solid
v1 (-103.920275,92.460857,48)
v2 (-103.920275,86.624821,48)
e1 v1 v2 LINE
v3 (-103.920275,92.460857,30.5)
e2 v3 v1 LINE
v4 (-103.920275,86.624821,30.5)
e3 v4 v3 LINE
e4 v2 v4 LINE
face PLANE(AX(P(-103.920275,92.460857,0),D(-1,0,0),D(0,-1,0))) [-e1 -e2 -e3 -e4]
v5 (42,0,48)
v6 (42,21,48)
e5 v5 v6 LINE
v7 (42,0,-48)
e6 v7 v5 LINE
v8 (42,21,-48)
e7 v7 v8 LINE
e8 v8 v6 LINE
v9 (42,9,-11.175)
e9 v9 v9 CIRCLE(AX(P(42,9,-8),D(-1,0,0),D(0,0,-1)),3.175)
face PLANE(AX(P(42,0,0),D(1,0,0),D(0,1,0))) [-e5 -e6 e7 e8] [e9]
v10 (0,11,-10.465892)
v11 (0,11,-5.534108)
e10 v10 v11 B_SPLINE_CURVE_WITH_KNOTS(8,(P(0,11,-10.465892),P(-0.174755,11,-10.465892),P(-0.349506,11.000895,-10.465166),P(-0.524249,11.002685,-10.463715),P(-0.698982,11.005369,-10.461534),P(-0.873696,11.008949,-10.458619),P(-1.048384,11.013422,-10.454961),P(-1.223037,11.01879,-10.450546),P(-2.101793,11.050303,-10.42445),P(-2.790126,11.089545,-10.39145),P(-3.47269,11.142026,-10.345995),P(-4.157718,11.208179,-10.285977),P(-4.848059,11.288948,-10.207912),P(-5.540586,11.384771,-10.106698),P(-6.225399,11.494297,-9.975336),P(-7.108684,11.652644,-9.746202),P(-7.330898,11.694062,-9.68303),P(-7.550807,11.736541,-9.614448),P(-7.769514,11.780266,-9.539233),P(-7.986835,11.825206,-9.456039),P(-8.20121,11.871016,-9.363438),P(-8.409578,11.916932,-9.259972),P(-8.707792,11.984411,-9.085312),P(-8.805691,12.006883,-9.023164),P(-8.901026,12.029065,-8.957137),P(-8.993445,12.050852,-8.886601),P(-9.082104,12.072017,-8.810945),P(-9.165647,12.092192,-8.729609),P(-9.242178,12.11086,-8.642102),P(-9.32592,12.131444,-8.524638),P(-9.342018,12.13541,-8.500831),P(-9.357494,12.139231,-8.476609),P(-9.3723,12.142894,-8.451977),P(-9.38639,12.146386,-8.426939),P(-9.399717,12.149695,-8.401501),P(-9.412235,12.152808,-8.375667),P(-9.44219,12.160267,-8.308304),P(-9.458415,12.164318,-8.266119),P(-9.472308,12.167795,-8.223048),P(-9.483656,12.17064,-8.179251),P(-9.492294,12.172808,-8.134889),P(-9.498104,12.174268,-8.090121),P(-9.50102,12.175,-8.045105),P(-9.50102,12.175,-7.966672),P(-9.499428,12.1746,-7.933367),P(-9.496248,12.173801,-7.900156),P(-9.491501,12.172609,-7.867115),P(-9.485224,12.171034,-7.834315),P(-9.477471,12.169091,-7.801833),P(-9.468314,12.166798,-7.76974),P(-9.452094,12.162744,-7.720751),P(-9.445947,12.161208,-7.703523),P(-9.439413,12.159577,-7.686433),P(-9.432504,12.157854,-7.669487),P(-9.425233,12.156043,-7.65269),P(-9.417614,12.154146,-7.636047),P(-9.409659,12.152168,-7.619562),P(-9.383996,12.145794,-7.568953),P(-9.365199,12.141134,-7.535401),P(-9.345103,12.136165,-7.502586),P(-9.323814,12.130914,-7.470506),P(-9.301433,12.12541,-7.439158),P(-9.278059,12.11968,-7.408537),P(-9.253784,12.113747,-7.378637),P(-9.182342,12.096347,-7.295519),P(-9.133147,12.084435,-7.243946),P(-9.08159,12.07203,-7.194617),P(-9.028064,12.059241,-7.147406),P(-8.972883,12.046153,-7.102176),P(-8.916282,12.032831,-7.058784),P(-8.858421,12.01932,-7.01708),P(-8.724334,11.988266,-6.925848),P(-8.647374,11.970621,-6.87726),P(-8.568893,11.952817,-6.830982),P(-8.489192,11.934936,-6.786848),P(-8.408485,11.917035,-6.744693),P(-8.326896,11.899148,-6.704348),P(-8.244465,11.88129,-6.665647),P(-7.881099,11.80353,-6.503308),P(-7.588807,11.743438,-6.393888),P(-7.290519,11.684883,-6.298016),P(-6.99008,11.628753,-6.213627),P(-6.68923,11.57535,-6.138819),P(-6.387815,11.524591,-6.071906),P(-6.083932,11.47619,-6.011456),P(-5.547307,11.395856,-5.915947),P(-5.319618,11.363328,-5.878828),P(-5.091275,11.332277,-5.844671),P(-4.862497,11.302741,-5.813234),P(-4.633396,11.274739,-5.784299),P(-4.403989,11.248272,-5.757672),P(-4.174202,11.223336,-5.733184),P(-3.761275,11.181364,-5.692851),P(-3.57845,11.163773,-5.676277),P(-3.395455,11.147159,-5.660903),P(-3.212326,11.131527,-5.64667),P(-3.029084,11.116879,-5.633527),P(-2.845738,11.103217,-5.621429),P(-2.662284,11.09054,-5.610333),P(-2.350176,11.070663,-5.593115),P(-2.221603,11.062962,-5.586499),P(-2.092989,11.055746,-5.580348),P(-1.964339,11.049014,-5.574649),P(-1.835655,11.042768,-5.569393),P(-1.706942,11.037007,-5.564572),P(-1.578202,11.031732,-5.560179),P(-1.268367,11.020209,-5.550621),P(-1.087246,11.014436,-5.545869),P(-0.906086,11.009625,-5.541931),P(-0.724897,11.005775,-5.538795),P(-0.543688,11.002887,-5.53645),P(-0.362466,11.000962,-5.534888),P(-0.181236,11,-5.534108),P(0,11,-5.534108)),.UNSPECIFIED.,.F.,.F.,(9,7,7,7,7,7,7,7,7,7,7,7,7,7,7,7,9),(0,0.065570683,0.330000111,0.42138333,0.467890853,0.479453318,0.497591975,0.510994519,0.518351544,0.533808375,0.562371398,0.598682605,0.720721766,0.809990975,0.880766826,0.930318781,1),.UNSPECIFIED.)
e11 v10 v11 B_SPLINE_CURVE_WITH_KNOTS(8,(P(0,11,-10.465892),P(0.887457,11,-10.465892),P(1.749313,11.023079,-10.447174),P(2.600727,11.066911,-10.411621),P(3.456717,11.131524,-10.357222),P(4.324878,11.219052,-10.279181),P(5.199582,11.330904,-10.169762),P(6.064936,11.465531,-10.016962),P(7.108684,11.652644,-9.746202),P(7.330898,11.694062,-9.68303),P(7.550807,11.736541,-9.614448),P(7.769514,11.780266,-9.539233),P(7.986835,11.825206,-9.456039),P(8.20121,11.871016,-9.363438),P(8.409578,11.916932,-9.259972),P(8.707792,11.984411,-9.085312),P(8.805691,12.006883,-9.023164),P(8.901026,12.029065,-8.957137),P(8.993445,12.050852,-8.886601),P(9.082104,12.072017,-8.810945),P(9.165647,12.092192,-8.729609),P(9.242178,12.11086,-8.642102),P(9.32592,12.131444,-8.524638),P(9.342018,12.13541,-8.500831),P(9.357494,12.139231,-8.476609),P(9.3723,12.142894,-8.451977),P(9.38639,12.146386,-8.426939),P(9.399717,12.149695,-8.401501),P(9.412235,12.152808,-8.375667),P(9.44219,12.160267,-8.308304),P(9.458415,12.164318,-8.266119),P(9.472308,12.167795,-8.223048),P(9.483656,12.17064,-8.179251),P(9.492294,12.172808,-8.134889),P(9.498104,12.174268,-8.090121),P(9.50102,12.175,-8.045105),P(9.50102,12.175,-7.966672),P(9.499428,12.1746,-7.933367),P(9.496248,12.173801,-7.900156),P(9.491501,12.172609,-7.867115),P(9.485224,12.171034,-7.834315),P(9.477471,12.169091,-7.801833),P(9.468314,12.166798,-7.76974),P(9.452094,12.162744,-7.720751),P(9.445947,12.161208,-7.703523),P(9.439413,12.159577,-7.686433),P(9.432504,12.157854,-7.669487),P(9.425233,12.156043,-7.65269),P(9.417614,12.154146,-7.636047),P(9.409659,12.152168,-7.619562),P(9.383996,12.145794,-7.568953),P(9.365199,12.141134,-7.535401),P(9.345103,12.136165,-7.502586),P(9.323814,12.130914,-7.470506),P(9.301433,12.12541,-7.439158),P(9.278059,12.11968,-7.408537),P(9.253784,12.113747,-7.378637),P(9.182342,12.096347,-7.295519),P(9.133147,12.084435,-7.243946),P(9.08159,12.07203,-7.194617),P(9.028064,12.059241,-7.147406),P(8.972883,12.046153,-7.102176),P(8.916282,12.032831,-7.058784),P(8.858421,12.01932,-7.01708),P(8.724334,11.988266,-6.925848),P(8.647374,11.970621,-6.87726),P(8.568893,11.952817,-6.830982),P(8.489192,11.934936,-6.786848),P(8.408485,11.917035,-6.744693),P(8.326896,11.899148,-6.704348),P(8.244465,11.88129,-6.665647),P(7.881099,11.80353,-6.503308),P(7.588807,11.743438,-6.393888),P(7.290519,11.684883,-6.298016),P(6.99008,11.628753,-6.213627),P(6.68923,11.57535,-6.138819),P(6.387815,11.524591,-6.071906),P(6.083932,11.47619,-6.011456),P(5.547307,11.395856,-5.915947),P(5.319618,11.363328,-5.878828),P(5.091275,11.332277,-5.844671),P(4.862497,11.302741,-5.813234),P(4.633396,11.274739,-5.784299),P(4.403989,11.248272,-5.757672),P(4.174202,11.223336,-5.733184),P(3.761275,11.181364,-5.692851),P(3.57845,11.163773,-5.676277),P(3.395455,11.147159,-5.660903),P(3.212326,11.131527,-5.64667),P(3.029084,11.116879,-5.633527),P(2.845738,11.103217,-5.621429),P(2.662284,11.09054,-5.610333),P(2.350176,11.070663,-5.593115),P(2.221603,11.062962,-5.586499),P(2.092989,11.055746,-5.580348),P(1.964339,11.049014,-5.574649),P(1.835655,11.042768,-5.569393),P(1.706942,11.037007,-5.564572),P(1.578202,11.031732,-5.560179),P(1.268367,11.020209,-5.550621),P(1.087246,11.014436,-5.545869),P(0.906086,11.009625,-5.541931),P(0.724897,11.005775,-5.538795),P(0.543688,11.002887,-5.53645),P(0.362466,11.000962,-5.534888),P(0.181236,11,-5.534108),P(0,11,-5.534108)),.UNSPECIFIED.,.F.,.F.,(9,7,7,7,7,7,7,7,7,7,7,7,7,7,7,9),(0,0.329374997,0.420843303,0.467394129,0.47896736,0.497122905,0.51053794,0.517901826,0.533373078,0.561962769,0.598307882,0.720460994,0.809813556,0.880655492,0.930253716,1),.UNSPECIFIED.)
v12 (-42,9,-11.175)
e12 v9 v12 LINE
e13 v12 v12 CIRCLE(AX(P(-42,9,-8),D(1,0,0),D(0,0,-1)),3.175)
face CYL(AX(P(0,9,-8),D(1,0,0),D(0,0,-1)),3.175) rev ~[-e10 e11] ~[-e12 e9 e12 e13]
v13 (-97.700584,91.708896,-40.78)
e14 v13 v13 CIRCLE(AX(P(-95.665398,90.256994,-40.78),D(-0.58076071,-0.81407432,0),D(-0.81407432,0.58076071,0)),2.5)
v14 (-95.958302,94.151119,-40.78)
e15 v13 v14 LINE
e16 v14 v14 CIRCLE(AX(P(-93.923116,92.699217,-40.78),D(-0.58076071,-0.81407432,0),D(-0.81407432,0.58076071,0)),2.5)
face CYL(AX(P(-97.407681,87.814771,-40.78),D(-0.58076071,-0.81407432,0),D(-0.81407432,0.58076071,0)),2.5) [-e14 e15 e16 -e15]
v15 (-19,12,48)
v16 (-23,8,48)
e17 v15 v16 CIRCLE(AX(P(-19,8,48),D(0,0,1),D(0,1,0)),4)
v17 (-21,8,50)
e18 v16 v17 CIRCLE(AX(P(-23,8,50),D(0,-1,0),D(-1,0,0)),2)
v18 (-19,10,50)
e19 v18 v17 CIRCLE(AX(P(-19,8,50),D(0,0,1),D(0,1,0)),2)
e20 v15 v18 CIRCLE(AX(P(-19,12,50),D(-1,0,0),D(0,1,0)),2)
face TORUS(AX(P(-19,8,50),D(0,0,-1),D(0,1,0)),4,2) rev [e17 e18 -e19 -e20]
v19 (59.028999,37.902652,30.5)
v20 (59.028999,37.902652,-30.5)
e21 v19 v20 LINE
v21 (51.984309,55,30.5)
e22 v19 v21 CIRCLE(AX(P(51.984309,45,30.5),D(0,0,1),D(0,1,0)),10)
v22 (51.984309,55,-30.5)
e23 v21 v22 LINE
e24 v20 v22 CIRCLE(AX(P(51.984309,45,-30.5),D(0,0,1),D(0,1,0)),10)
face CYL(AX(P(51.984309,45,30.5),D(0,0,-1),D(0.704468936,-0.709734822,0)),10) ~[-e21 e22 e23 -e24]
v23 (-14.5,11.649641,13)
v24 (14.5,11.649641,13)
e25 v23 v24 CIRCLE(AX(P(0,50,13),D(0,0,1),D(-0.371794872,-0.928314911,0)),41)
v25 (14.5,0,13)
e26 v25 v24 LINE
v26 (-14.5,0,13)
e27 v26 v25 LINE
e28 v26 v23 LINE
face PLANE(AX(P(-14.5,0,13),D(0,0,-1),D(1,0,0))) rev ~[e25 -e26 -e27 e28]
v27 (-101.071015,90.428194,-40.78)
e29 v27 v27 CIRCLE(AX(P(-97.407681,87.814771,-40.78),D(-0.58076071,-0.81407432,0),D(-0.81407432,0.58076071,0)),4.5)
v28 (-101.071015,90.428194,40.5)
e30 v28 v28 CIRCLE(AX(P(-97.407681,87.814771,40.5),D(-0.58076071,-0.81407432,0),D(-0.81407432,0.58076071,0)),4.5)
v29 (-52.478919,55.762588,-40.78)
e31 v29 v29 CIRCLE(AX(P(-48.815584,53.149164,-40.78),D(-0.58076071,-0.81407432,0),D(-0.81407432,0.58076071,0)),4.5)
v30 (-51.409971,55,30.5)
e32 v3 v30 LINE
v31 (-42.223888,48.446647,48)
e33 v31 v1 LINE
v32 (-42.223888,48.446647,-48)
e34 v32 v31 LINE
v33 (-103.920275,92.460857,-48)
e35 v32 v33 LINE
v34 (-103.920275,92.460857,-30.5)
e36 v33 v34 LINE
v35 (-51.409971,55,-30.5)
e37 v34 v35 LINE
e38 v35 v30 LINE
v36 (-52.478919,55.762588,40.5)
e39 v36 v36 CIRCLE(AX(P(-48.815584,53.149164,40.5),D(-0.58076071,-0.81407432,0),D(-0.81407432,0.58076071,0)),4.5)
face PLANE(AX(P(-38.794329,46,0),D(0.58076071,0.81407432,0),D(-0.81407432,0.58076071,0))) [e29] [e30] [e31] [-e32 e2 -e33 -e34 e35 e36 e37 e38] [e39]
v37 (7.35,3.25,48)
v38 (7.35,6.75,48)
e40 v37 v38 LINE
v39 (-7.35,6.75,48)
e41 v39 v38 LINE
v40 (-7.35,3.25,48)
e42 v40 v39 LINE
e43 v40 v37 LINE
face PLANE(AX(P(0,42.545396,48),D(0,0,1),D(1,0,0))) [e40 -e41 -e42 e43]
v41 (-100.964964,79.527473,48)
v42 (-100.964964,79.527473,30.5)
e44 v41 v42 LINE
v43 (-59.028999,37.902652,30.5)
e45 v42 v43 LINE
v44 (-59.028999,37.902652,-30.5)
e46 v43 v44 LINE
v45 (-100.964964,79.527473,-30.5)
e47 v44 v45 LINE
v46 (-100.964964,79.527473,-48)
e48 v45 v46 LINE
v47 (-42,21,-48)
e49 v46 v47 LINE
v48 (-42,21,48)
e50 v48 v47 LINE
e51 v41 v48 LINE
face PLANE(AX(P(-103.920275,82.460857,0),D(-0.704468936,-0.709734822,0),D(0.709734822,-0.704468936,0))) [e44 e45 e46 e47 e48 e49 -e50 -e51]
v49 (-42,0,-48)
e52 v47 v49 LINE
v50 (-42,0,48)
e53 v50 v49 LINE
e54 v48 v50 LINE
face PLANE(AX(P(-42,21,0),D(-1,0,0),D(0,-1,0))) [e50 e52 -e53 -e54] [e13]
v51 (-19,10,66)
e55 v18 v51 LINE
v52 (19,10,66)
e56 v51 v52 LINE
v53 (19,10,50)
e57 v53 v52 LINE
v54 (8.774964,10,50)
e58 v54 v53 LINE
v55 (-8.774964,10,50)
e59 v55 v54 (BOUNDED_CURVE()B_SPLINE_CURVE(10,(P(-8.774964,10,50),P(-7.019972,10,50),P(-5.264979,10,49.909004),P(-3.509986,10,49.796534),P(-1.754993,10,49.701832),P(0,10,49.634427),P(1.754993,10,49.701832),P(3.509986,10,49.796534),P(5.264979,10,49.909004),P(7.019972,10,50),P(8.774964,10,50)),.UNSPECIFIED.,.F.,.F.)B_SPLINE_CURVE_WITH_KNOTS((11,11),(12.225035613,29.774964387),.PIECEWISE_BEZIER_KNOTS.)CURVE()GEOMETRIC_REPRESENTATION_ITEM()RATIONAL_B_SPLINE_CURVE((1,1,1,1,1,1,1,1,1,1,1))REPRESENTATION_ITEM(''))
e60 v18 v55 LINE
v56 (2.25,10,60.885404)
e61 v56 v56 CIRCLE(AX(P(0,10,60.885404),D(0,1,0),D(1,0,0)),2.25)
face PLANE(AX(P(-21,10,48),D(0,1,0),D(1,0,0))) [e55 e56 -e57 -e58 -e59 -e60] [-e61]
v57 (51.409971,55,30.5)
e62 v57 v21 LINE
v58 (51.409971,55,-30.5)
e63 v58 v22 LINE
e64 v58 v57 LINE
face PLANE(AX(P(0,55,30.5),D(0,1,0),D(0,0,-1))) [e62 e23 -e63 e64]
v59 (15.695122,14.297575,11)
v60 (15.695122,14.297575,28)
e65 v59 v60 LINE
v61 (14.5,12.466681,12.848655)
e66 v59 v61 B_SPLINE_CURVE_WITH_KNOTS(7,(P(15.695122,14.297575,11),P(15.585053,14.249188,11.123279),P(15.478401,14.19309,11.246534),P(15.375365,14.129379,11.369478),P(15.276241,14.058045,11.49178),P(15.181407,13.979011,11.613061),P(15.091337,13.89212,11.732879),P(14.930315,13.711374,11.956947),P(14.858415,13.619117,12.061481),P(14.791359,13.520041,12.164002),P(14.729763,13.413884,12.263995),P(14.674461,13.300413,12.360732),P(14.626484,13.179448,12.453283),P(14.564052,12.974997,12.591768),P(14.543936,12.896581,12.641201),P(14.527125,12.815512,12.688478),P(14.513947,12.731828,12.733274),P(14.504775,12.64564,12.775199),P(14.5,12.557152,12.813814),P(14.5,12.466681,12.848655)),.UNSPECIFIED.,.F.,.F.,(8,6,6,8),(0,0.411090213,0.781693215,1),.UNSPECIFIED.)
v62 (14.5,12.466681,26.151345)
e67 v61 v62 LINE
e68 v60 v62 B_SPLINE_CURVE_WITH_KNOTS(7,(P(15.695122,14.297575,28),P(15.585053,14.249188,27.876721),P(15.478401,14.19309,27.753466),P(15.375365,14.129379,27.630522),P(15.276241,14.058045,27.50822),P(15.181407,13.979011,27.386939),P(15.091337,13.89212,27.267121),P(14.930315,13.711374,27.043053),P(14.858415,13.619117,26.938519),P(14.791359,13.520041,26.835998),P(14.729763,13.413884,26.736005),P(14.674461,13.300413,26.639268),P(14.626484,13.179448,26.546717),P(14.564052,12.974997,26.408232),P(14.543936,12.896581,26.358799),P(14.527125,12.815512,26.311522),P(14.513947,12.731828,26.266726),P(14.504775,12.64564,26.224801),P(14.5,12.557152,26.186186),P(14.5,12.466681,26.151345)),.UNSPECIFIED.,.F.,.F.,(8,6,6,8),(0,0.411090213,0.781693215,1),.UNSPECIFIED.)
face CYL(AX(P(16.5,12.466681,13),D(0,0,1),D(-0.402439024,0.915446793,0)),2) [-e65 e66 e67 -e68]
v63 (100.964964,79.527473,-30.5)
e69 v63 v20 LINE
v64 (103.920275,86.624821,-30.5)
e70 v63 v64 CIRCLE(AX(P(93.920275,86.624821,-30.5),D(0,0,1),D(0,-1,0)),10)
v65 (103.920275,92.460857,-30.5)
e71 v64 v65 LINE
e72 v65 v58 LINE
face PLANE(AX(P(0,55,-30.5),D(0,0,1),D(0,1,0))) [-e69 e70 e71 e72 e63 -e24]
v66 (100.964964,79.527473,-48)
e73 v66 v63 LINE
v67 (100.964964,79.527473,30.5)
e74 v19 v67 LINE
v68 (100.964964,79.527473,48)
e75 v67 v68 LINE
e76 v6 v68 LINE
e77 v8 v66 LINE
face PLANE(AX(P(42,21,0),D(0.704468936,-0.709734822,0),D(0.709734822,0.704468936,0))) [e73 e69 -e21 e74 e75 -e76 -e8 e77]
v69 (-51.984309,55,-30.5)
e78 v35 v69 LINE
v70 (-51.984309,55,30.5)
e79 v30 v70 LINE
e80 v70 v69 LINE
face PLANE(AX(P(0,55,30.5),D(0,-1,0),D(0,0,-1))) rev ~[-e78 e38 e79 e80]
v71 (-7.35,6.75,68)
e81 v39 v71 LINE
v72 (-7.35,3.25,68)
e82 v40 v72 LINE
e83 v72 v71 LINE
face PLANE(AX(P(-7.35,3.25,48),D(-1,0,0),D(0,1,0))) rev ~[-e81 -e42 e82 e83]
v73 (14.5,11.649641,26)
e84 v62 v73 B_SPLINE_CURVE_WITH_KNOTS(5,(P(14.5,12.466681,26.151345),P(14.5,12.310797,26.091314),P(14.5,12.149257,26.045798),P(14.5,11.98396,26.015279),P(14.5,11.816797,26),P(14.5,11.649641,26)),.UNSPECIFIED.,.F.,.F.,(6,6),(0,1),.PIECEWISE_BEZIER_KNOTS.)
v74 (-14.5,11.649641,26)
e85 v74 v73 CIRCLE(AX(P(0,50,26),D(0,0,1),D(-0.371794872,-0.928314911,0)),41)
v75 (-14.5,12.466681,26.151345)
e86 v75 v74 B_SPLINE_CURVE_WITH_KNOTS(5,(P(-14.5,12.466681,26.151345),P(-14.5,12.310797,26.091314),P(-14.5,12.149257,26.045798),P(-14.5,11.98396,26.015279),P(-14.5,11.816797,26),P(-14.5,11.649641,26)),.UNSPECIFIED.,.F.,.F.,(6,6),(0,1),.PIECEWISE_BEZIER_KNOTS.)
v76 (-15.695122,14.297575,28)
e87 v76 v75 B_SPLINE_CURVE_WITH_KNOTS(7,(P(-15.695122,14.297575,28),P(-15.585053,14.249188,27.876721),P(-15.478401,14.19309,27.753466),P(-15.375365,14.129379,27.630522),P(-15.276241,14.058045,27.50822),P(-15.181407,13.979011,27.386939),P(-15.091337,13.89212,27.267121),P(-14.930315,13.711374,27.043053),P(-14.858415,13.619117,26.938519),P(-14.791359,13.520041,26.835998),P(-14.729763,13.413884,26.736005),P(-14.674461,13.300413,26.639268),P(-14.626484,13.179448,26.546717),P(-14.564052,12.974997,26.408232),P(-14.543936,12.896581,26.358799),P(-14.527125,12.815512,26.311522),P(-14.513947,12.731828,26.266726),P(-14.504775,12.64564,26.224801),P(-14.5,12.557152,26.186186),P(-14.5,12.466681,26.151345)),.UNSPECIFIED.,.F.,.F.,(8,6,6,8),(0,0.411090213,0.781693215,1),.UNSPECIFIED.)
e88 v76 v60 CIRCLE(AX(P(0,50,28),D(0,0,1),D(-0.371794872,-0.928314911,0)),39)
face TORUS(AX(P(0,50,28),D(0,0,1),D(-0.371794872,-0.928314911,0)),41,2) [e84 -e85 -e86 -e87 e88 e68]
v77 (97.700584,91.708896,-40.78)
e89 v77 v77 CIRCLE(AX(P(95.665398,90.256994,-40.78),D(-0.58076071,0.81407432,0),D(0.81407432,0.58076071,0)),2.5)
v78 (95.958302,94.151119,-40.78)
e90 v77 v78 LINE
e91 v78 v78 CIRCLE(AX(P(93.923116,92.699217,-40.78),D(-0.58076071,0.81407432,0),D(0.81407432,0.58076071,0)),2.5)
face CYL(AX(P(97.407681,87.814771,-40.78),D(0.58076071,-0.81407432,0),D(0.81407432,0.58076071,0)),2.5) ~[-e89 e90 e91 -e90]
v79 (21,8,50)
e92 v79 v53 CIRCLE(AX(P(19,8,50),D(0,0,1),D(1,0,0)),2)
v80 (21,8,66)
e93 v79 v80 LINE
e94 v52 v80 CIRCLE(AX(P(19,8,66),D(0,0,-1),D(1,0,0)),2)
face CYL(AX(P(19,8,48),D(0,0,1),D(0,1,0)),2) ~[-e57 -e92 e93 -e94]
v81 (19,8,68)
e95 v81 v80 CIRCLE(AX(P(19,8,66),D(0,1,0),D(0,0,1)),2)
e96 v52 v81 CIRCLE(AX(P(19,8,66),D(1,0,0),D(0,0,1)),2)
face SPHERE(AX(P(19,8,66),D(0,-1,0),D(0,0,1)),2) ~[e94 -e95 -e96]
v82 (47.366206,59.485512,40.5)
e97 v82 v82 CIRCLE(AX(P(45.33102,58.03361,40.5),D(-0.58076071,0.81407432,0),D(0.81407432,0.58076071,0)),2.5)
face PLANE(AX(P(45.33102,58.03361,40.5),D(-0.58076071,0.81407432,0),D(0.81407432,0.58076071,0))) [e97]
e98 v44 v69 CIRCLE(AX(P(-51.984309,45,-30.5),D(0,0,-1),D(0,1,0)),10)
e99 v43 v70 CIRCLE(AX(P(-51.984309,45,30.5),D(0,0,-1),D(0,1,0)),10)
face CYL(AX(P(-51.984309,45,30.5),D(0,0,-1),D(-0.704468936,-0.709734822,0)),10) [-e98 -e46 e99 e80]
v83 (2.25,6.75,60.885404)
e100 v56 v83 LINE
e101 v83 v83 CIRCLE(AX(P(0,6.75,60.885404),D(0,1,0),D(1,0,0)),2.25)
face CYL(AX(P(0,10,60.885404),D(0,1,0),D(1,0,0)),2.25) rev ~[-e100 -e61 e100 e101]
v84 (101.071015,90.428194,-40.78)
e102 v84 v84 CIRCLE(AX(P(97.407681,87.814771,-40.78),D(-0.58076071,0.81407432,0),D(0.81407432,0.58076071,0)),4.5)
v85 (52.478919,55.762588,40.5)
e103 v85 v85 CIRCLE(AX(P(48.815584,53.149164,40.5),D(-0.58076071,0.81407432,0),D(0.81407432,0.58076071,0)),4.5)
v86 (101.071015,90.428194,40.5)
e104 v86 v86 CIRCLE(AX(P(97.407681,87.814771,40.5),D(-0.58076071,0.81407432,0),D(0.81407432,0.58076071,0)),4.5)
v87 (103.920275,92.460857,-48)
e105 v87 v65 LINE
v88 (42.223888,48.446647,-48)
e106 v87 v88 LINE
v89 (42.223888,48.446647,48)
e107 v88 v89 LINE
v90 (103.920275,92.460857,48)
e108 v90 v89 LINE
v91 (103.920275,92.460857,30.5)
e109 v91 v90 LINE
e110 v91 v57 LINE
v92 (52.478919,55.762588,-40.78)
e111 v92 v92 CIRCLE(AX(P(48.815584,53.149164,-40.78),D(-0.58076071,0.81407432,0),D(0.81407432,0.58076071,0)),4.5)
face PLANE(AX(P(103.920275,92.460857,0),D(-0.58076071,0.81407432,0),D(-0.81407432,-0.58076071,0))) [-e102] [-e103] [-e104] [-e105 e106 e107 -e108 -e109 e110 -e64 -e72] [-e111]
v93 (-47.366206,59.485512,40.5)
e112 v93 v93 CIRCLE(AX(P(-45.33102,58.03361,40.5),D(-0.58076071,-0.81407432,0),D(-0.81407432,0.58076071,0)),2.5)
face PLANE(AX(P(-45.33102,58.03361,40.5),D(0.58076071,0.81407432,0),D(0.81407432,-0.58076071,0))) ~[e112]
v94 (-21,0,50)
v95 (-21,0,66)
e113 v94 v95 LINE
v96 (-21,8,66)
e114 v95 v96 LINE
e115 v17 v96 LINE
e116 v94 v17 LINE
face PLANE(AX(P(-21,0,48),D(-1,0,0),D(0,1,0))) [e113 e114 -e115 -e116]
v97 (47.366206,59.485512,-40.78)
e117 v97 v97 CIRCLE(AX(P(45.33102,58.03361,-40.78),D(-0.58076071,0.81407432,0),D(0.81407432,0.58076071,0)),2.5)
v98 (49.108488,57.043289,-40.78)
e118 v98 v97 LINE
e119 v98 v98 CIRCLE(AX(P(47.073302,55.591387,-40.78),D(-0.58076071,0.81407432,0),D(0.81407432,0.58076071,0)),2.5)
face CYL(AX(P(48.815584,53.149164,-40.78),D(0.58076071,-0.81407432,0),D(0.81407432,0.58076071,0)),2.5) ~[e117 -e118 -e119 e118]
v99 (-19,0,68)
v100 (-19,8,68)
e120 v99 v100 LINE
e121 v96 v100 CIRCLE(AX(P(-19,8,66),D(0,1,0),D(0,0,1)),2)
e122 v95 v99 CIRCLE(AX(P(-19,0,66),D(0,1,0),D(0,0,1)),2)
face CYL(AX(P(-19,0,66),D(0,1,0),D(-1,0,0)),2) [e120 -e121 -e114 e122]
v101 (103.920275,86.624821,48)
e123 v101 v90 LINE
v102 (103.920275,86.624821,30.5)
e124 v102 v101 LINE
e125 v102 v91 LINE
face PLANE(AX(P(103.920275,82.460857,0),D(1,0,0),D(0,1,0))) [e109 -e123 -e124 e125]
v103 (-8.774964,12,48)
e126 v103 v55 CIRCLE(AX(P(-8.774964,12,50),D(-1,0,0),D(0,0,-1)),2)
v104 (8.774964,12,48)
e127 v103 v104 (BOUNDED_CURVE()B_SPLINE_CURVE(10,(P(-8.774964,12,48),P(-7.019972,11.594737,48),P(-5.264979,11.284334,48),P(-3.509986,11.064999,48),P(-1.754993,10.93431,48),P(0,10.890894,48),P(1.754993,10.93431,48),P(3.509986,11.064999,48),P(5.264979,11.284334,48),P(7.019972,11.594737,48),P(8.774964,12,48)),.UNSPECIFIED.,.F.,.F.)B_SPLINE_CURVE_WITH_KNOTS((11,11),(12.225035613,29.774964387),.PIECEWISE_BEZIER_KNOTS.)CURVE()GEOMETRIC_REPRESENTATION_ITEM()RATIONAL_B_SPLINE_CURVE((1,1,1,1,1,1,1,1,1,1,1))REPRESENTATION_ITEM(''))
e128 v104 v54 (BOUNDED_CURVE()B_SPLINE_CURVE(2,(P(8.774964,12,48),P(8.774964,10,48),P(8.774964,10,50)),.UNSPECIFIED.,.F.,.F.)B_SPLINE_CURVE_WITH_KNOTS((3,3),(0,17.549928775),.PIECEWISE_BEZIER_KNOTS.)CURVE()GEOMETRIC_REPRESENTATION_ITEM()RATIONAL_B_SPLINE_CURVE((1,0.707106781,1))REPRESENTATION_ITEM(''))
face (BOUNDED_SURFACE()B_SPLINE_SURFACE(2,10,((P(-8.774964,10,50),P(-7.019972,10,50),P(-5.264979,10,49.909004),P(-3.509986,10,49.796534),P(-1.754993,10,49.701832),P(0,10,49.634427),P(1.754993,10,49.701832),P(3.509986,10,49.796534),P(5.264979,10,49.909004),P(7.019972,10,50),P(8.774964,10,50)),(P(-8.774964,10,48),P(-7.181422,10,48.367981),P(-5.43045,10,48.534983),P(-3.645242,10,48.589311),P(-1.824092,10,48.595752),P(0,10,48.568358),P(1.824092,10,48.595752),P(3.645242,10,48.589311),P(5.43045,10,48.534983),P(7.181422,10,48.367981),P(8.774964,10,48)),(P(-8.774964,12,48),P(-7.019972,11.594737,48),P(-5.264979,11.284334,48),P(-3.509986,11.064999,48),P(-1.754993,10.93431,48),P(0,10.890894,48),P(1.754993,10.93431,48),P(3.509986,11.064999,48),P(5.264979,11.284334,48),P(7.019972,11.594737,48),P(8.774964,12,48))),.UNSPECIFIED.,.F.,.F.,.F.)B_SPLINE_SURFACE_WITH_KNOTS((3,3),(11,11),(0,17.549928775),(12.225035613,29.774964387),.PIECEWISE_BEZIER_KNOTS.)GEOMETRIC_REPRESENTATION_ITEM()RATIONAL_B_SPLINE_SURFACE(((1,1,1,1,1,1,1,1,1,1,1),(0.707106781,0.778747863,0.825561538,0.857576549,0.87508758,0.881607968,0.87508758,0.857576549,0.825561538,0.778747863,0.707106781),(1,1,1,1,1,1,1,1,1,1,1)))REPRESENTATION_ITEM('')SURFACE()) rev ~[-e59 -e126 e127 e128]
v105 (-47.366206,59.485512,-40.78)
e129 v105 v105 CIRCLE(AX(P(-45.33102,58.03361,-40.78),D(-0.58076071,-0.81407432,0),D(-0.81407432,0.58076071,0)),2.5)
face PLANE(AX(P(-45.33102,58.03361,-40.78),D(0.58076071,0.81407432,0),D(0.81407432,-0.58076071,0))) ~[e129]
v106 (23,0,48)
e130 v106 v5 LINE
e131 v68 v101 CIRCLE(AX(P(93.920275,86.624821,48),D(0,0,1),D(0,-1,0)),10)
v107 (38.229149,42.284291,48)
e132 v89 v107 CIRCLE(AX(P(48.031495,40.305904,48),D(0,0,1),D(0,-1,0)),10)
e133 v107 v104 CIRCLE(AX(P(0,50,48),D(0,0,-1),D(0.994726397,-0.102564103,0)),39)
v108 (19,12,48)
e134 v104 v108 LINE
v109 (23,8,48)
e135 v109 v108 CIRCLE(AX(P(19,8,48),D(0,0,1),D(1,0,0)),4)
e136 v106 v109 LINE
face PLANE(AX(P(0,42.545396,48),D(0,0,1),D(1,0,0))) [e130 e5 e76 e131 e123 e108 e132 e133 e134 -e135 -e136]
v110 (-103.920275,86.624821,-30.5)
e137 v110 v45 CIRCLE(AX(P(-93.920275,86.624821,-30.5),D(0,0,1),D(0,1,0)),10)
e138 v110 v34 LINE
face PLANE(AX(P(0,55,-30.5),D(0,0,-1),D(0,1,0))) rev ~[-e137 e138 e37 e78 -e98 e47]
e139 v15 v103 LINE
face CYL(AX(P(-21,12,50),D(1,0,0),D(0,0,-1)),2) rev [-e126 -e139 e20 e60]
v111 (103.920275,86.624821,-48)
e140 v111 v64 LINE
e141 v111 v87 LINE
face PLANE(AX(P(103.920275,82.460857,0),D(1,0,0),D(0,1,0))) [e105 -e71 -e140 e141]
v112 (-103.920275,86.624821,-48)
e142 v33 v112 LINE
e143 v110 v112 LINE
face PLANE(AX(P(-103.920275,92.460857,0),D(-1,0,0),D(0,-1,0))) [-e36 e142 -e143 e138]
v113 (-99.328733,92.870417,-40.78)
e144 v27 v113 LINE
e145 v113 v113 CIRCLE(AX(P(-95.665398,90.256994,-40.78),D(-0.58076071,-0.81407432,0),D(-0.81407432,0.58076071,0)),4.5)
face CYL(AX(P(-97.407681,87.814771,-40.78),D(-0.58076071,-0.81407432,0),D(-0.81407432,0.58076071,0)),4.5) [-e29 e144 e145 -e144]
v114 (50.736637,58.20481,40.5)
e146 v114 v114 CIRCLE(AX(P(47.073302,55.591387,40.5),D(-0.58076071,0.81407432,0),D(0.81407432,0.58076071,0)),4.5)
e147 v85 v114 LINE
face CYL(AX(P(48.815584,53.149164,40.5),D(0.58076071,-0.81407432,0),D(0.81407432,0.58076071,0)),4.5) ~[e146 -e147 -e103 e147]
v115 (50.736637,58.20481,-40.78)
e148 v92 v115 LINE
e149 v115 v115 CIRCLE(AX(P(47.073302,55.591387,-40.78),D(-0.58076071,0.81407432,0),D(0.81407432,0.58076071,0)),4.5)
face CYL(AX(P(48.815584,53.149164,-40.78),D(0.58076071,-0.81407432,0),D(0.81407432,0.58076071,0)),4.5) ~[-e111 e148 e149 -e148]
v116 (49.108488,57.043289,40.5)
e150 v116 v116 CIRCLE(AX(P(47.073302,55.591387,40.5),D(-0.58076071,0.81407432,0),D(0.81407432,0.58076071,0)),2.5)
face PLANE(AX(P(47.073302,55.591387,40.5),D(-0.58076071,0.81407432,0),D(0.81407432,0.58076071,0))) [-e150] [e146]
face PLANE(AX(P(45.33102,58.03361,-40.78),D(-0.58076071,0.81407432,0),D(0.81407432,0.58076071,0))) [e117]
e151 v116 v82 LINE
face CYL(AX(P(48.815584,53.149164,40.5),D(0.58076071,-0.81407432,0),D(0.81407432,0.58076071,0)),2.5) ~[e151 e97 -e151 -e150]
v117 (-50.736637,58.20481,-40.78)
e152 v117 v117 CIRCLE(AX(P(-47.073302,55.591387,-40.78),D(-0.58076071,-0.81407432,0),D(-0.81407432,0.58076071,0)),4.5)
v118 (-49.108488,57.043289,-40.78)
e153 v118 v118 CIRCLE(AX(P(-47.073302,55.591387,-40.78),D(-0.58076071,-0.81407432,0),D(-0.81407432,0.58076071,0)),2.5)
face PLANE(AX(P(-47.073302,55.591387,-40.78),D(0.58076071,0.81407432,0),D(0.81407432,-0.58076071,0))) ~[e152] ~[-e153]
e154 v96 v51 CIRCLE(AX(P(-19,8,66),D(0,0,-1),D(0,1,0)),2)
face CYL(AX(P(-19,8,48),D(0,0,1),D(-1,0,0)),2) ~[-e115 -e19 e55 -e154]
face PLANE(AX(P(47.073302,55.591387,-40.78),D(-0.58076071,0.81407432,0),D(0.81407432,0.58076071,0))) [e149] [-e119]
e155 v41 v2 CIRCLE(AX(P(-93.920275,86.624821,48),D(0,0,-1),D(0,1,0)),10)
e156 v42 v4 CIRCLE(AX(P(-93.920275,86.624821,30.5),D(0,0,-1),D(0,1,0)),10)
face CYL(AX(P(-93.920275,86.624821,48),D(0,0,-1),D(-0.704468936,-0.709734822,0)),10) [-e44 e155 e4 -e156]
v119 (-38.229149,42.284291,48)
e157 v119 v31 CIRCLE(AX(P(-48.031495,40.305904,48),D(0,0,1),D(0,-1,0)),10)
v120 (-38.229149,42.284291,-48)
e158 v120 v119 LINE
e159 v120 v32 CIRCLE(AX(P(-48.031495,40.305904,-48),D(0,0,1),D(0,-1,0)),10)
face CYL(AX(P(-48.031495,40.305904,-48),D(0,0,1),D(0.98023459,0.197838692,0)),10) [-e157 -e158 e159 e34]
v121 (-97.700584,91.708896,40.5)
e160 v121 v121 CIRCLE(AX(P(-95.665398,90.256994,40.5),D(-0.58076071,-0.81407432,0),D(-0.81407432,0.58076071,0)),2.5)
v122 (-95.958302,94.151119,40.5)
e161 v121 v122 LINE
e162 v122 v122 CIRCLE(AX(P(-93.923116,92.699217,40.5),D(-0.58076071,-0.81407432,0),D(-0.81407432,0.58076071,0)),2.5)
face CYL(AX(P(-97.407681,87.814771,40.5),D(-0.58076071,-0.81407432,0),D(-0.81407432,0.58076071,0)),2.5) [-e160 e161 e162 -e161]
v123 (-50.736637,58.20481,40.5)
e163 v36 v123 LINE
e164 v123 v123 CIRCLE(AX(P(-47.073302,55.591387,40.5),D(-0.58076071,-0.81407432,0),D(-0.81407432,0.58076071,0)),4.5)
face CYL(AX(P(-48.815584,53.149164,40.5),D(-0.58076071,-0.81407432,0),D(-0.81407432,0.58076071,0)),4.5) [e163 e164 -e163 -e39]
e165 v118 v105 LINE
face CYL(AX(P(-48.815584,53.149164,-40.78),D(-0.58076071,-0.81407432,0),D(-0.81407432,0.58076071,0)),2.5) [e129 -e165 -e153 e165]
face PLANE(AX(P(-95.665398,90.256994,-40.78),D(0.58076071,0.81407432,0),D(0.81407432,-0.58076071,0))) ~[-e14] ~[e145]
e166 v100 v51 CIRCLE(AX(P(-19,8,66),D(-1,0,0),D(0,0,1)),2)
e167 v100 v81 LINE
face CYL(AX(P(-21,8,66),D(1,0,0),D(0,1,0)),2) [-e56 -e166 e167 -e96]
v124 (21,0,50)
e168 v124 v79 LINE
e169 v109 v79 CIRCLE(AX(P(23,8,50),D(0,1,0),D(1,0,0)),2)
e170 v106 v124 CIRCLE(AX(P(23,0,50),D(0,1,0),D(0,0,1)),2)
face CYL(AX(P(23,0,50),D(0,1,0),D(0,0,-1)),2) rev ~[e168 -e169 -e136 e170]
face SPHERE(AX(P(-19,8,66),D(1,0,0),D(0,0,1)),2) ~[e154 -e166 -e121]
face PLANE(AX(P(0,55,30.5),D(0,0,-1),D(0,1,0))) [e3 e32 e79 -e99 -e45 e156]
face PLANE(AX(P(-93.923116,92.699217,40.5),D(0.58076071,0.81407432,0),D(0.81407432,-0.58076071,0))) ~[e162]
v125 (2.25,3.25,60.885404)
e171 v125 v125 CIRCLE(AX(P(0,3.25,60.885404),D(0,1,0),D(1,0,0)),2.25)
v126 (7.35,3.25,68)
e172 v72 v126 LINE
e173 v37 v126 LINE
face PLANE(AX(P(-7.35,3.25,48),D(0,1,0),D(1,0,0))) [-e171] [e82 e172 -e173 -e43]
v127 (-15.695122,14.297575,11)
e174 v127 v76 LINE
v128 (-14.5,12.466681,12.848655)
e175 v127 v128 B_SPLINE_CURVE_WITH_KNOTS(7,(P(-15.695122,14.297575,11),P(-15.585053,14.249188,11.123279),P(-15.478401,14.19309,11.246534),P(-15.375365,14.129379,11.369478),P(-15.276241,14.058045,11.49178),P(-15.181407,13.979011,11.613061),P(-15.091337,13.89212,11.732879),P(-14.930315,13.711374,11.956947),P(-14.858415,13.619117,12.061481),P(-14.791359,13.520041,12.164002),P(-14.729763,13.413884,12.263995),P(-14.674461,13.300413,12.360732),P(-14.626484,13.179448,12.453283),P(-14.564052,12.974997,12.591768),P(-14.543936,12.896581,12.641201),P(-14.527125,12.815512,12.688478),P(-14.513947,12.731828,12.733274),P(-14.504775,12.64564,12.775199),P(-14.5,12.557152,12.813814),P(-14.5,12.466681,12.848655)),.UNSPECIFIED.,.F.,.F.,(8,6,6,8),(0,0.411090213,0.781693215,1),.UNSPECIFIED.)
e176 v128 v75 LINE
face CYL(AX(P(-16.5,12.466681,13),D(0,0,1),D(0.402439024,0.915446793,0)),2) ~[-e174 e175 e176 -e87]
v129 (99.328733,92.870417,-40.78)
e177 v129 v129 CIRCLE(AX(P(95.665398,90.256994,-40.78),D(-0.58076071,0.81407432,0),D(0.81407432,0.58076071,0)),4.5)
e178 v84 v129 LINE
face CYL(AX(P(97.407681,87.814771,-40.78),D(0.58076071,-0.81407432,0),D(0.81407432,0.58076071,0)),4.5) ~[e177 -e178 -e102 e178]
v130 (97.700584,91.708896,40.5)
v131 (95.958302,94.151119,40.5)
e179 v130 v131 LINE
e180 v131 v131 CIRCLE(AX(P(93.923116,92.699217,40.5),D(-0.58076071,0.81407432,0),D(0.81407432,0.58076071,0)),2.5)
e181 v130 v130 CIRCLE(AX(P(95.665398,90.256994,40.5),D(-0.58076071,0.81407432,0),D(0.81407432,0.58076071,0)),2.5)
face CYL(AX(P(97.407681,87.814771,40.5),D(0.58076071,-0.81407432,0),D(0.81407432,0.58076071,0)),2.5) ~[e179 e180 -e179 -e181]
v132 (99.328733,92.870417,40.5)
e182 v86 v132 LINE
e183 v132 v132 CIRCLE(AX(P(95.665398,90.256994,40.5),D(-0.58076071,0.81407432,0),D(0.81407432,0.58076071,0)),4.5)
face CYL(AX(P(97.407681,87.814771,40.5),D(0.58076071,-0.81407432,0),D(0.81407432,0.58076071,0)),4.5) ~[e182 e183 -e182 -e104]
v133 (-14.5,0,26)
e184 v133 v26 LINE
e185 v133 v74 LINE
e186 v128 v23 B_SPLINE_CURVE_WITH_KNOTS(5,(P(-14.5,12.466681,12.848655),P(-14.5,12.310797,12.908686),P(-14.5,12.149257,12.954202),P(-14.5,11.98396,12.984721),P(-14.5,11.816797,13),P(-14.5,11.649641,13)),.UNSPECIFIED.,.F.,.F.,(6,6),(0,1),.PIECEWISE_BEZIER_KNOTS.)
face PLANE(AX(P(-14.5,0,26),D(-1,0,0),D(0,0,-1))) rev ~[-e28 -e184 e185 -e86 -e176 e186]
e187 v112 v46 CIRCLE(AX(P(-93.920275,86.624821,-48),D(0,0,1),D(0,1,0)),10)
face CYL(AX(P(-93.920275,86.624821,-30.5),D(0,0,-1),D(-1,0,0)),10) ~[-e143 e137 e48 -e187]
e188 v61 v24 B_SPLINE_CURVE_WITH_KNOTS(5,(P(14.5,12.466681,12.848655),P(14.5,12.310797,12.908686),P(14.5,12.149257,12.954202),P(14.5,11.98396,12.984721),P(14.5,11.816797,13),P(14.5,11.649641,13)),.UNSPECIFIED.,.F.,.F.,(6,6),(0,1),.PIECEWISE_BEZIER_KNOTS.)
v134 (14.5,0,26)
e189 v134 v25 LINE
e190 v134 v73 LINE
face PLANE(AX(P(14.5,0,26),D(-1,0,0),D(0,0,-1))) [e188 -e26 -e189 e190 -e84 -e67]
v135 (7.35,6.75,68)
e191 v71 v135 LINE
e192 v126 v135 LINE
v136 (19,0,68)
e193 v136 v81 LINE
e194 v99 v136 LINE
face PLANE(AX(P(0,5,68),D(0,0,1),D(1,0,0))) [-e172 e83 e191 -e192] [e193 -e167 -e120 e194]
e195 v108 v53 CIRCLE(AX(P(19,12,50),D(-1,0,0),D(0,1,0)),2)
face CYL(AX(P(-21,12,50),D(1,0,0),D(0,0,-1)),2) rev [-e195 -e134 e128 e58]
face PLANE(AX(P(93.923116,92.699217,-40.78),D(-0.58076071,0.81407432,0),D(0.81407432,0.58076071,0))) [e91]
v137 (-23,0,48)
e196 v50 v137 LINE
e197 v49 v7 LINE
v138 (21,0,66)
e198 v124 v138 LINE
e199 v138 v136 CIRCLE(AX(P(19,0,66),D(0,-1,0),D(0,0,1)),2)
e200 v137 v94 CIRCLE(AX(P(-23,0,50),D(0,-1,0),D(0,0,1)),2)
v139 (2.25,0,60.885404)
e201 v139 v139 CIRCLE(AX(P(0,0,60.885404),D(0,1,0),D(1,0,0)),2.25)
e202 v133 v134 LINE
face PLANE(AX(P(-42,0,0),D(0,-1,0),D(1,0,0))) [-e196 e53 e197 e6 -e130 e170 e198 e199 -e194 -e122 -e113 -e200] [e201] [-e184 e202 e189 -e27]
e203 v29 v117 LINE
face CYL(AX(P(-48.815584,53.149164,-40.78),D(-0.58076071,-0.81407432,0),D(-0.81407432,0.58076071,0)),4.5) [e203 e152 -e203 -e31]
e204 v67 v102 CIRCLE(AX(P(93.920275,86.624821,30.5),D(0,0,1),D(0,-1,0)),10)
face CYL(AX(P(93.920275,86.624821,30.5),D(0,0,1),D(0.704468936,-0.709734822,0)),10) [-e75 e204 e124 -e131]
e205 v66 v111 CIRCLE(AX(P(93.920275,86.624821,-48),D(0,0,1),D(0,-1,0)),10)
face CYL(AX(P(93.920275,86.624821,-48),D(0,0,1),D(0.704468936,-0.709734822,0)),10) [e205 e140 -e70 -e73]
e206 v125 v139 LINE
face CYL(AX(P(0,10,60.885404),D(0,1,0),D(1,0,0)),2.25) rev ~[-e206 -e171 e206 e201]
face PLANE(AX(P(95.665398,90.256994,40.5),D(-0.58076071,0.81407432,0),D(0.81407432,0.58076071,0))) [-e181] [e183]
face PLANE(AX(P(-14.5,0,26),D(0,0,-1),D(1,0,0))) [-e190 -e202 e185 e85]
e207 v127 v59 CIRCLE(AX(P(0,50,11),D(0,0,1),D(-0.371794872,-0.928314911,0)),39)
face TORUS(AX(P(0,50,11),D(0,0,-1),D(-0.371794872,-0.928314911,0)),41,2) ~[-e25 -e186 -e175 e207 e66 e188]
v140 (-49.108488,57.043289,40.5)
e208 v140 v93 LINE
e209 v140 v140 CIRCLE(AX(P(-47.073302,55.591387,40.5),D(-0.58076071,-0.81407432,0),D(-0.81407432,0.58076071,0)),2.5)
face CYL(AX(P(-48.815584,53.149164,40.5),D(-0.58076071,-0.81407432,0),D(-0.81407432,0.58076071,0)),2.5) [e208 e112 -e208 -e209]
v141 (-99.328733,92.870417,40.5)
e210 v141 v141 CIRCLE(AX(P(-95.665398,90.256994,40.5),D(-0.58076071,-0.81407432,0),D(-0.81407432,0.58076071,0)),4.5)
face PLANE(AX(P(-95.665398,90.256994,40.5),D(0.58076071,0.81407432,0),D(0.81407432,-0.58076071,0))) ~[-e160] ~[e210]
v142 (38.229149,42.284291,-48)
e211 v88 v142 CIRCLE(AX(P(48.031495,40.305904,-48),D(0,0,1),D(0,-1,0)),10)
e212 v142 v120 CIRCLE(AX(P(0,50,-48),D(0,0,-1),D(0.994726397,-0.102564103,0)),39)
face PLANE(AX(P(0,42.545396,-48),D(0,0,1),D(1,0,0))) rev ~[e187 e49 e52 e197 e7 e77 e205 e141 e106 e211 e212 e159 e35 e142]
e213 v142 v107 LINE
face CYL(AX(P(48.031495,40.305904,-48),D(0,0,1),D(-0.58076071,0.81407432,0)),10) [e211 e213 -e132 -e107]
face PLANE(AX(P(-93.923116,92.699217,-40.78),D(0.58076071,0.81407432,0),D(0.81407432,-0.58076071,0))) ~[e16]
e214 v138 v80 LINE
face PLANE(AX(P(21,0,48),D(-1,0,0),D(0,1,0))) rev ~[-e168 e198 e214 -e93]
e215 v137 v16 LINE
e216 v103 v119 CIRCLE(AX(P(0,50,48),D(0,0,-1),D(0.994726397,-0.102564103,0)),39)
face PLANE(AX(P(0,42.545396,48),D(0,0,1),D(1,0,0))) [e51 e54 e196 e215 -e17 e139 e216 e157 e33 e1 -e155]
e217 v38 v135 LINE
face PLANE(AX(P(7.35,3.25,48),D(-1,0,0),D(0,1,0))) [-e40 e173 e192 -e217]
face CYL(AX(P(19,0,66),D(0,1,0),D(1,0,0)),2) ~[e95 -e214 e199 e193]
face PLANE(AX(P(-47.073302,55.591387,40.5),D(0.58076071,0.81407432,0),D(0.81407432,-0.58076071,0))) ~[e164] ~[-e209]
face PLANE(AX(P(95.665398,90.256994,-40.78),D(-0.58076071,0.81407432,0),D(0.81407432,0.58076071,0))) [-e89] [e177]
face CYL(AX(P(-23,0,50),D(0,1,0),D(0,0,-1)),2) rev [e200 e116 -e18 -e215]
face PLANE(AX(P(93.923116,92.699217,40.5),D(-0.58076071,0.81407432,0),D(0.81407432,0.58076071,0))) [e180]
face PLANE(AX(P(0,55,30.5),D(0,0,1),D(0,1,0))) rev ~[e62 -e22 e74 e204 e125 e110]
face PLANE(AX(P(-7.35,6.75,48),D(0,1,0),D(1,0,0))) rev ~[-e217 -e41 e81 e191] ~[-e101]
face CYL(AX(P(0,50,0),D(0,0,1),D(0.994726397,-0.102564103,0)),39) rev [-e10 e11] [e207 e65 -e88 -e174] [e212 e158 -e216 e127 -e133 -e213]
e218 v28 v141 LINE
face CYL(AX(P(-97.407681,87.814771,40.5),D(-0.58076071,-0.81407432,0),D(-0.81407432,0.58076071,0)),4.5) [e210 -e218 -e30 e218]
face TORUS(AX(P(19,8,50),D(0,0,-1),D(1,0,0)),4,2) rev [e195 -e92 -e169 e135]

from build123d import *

# Parameters (mm, degrees)
BOSS_EXTRUDE1_DEPTH            = 48
CUT_EXTRUDE2_REACH             = 149.148
SKETCH2_W                      = 61
SKETCH2_H                      = 37.460856798
SKETCH2_R                      = 3.175
CUT_EXTRUDE2_DIRECTION_2_REACH = 149.148
CUT_EXTRUDE3_REACH             = 149.148
SKETCH4_W                      = 29
SKETCH4_H                      = 13
SKETCH5_W                      = 42
SKETCH5_H                      = 10
SKETCH5_W_2                    = 14.7
SKETCH5_H_2                    = 3.5
BOSS_EXTRUDE2_DEPTH            = 20
SKETCH6_R                      = 2.25
CUT_EXTRUDE4_DEPTH             = 150.07453327
FILLET1_R                      = 10
FILLET2_R                      = 2
FILLET4_R                      = 2
SKETCH7_R                      = 4.5
SKETCH7_R_2                    = 2.5
BOSS_EXTRUDE3_DEPTH            = 3
SKETCH7_3_R                    = 2.5
BOSS_EXTRUDE4_DEPTH            = 6


with BuildPart() as part:
    # Sketch1 → Boss-Extrude1 (new, symmetric)
    with BuildSketch(Plane.XY):
        with BuildLine():
            Line((-42, 0), (42, 0))
            Line((42, 0), (42, 21))
            Line((42, 21), (103.920275047, 82.460856798))
            Line((103.920275047, 82.460856798), (103.920275047, 92.460856798))
            Line((103.920275047, 92.460856798), (38.794329483, 46))
            ThreePointArc((38.794329483, 46), (0, 11), (-38.794329483, 46))
            Line((-38.794329483, 46), (-103.920275047, 92.460856798))
            Line((-103.920275047, 92.460856798), (-103.920275047, 82.460856798))
            Line((-103.920275047, 82.460856798), (-42, 21))
            Line((-42, 21), (-42, 0))
        make_face()
    extrude(amount=BOSS_EXTRUDE1_DEPTH, both=True)

    # Sketch2 → Cut-Extrude2 (cut, up to next)
    with BuildSketch(Plane(origin=(0, 0, 0), x_dir=(0, 0, -1), z_dir=(1, 0, 0)), mode=Mode.PRIVATE) as cut_extrude2_sk1:
        with Locations((0, 73.730428399)):
            Rectangle(SKETCH2_W, SKETCH2_H)
    cut_extrude2_tool1 = extrude(cut_extrude2_sk1.sketch, amount=-CUT_EXTRUDE2_REACH, mode=Mode.PRIVATE) & part.part
    # Sketch2 → Cut-Extrude2 (cut, up to next)
    with BuildSketch(Plane(origin=(0, 0, 0), x_dir=(0, 0, -1), z_dir=(1, 0, 0)), mode=Mode.PRIVATE) as cut_extrude2_sk2:
        with Locations((8, 9)):
            Circle(SKETCH2_R)
    cut_extrude2_tool2 = extrude(cut_extrude2_sk2.sketch, amount=-CUT_EXTRUDE2_REACH, mode=Mode.PRIVATE) & part.part
    add(cut_extrude2_tool1.solids().sort_by_distance((0, 73.730428, 0))[0], mode=Mode.SUBTRACT)
    add(cut_extrude2_tool2.solids().sort_by_distance((0, 9, -8))[0], mode=Mode.SUBTRACT)

    # Sketch2 → Cut-Extrude2 direction 2 (cut, up to next)
    with BuildSketch(Plane(origin=(0, 0, 0), x_dir=(0, 0, -1), z_dir=(1, 0, 0)), mode=Mode.PRIVATE) as cut_extrude2_direction_2_sk1:
        with Locations((0, 73.730428399)):
            Rectangle(SKETCH2_W, SKETCH2_H)
    cut_extrude2_direction_2_tool1 = extrude(cut_extrude2_direction_2_sk1.sketch, amount=CUT_EXTRUDE2_DIRECTION_2_REACH, mode=Mode.PRIVATE) & part.part
    # Sketch2 → Cut-Extrude2 direction 2 (cut, up to next)
    with BuildSketch(Plane(origin=(0, 0, 0), x_dir=(0, 0, -1), z_dir=(1, 0, 0)), mode=Mode.PRIVATE) as cut_extrude2_direction_2_sk2:
        with Locations((8, 9)):
            Circle(SKETCH2_R)
    cut_extrude2_direction_2_tool2 = extrude(cut_extrude2_direction_2_sk2.sketch, amount=CUT_EXTRUDE2_DIRECTION_2_REACH, mode=Mode.PRIVATE) & part.part
    add(cut_extrude2_direction_2_tool1.solids().sort_by_distance((0, 73.730428, 0))[0], mode=Mode.SUBTRACT)
    add(cut_extrude2_direction_2_tool2.solids().sort_by_distance((0, 9, -8))[0], mode=Mode.SUBTRACT)

    # Sketch4 → Cut-Extrude3 (cut, up to next)
    with BuildSketch(Plane(origin=(0, 0, 0), x_dir=(1, 0, 0), z_dir=(0, 1, 0)), mode=Mode.PRIVATE) as cut_extrude3_sk1:
        with Locations((0, -19.5)):
            Rectangle(SKETCH4_W, SKETCH4_H)
    cut_extrude3_tool1 = extrude(cut_extrude3_sk1.sketch, amount=CUT_EXTRUDE3_REACH, mode=Mode.PRIVATE) & part.part
    add(cut_extrude3_tool1.solids().sort_by_distance((0, 0, 19.5))[0], mode=Mode.SUBTRACT)

    # Sketch5 → Boss-Extrude2 (add)
    with BuildSketch(Plane.XY.offset(48)):
        with Locations((0, 5)):
            Rectangle(SKETCH5_W, SKETCH5_H)
        with Locations((0, 5)):
            Rectangle(SKETCH5_W_2, SKETCH5_H_2, mode=Mode.SUBTRACT)
    extrude(amount=BOSS_EXTRUDE2_DEPTH)

    # Sketch6 → Cut-Extrude4 (cut, through all)
    with BuildSketch(Plane(origin=(0, 10, 0), x_dir=(1, 0, 0), z_dir=(0, 1, 0))):
        with Locations((0, -60.885403607)):
            Circle(SKETCH6_R)
    extrude(amount=-CUT_EXTRUDE4_DEPTH, mode=Mode.SUBTRACT)

    # Fillet1
    fillet1_edges = [part.edges().sort_by_distance(p)[0] for p in [
        (103.920275047, 82.460856798, -39.25),
        (103.920275047, 82.460856798, 39.25),
        (76.254149084, 55, 0),
        (-103.920275047, 82.460856798, 39.25),
        (-103.920275047, 82.460856798, -39.25),
        (-76.254149084, 55, 0),
        (-38.794329483, 46, 0),
        (38.794329483, 46, 0),
    ]]
    fillet(fillet1_edges, radius=FILLET1_R)

    # Fillet2
    fillet2_edges = [part.edges().sort_by_distance(p)[0] for p in [
        (14.5, 13.795718485, 19.5),
        (0, 11, 13),
        (0, 11, 26),
        (-14.5, 13.795718485, 19.5),
    ]]
    fillet(fillet2_edges, radius=FILLET2_R)

    # Fillet4
    fillet4_edges = [part.edges().sort_by_distance(p)[0] for p in [
        (21, 5, 48),
        (21, 5, 68),
        (21, 10, 58),
        (-21, 10, 58),
        (0, 10, 68),
        (-21, 5, 68),
        (0, 10, 48),
        (-21, 5, 48),
    ]]
    fillet(fillet4_edges, radius=FILLET4_R)

    # Sketch7 → Boss-Extrude3 (add)
    # profile 1 of 4: a face of its own
    with BuildSketch(Plane(origin=(-8.663321552, 12.143706482, 0), x_dir=(0.8140743195533245, 0.5807607099690817, 0), z_dir=(-0.5807607099690816, 0.8140743195533244, 0))):
        with Locations((130.296460035, -40.5)):
            Circle(SKETCH7_R)
        with Locations((130.296460035, -40.5)):
            Circle(SKETCH7_R_2, mode=Mode.SUBTRACT)
    # profile 2 of 4: a face of its own
    with BuildSketch(Plane(origin=(-8.663321552, 12.143706482, 0), x_dir=(0.8140743195533245, 0.5807607099690817, 0), z_dir=(-0.5807607099690816, 0.8140743195533244, 0))):
        with Locations((70.606460035, -40.5)):
            Circle(SKETCH7_R)
        with Locations((70.606460035, -40.5)):
            Circle(SKETCH7_R_2, mode=Mode.SUBTRACT)
    # profile 3 of 4: a face of its own
    with BuildSketch(Plane(origin=(-8.663321552, 12.143706482, 0), x_dir=(0.8140743195533245, 0.5807607099690817, 0), z_dir=(-0.5807607099690816, 0.8140743195533244, 0))):
        with Locations((130.296460035, 40.78)):
            Circle(SKETCH7_R)
        with Locations((130.296460035, 40.78)):
            Circle(SKETCH7_R_2, mode=Mode.SUBTRACT)
    # profile 4 of 4: a face of its own
    with BuildSketch(Plane(origin=(-8.663321552, 12.143706482, 0), x_dir=(0.8140743195533245, 0.5807607099690817, 0), z_dir=(-0.5807607099690816, 0.8140743195533244, 0))):
        with Locations((70.606460035, 40.78)):
            Circle(SKETCH7_R)
        with Locations((70.606460035, 40.78)):
            Circle(SKETCH7_R_2, mode=Mode.SUBTRACT)
    boss_extrude3 = extrude(amount=BOSS_EXTRUDE3_DEPTH)

    # Sketch7<3> → Boss-Extrude4 (add)
    with BuildSketch(Plane(origin=(-8.663321552, 12.143706482, 0), x_dir=(0.8140743195533245, 0.5807607099690817, 0), z_dir=(-0.5807607099690816, 0.8140743195533244, 0))):
        with Locations((130.296460035, -40.5)):
            Circle(SKETCH7_3_R)
        with Locations((130.296460035, 40.78)):
            Circle(SKETCH7_3_R)
        with Locations((70.606460035, -40.5)):
            Circle(SKETCH7_3_R)
        with Locations((70.606460035, 40.78)):
            Circle(SKETCH7_3_R)
    boss_extrude4 = extrude(amount=BOSS_EXTRUDE4_DEPTH)

    # Mirror1: Boss-Extrude3, Boss-Extrude4 across plane
    add(boss_extrude3.mirror(Plane(origin=(0, 0, 0), x_dir=(0, 0, 1), z_dir=(1, 0, 0))))
    add(boss_extrude4.mirror(Plane(origin=(0, 0, 0), x_dir=(0, 0, 1), z_dir=(1, 0, 0))))


solid = part.part
